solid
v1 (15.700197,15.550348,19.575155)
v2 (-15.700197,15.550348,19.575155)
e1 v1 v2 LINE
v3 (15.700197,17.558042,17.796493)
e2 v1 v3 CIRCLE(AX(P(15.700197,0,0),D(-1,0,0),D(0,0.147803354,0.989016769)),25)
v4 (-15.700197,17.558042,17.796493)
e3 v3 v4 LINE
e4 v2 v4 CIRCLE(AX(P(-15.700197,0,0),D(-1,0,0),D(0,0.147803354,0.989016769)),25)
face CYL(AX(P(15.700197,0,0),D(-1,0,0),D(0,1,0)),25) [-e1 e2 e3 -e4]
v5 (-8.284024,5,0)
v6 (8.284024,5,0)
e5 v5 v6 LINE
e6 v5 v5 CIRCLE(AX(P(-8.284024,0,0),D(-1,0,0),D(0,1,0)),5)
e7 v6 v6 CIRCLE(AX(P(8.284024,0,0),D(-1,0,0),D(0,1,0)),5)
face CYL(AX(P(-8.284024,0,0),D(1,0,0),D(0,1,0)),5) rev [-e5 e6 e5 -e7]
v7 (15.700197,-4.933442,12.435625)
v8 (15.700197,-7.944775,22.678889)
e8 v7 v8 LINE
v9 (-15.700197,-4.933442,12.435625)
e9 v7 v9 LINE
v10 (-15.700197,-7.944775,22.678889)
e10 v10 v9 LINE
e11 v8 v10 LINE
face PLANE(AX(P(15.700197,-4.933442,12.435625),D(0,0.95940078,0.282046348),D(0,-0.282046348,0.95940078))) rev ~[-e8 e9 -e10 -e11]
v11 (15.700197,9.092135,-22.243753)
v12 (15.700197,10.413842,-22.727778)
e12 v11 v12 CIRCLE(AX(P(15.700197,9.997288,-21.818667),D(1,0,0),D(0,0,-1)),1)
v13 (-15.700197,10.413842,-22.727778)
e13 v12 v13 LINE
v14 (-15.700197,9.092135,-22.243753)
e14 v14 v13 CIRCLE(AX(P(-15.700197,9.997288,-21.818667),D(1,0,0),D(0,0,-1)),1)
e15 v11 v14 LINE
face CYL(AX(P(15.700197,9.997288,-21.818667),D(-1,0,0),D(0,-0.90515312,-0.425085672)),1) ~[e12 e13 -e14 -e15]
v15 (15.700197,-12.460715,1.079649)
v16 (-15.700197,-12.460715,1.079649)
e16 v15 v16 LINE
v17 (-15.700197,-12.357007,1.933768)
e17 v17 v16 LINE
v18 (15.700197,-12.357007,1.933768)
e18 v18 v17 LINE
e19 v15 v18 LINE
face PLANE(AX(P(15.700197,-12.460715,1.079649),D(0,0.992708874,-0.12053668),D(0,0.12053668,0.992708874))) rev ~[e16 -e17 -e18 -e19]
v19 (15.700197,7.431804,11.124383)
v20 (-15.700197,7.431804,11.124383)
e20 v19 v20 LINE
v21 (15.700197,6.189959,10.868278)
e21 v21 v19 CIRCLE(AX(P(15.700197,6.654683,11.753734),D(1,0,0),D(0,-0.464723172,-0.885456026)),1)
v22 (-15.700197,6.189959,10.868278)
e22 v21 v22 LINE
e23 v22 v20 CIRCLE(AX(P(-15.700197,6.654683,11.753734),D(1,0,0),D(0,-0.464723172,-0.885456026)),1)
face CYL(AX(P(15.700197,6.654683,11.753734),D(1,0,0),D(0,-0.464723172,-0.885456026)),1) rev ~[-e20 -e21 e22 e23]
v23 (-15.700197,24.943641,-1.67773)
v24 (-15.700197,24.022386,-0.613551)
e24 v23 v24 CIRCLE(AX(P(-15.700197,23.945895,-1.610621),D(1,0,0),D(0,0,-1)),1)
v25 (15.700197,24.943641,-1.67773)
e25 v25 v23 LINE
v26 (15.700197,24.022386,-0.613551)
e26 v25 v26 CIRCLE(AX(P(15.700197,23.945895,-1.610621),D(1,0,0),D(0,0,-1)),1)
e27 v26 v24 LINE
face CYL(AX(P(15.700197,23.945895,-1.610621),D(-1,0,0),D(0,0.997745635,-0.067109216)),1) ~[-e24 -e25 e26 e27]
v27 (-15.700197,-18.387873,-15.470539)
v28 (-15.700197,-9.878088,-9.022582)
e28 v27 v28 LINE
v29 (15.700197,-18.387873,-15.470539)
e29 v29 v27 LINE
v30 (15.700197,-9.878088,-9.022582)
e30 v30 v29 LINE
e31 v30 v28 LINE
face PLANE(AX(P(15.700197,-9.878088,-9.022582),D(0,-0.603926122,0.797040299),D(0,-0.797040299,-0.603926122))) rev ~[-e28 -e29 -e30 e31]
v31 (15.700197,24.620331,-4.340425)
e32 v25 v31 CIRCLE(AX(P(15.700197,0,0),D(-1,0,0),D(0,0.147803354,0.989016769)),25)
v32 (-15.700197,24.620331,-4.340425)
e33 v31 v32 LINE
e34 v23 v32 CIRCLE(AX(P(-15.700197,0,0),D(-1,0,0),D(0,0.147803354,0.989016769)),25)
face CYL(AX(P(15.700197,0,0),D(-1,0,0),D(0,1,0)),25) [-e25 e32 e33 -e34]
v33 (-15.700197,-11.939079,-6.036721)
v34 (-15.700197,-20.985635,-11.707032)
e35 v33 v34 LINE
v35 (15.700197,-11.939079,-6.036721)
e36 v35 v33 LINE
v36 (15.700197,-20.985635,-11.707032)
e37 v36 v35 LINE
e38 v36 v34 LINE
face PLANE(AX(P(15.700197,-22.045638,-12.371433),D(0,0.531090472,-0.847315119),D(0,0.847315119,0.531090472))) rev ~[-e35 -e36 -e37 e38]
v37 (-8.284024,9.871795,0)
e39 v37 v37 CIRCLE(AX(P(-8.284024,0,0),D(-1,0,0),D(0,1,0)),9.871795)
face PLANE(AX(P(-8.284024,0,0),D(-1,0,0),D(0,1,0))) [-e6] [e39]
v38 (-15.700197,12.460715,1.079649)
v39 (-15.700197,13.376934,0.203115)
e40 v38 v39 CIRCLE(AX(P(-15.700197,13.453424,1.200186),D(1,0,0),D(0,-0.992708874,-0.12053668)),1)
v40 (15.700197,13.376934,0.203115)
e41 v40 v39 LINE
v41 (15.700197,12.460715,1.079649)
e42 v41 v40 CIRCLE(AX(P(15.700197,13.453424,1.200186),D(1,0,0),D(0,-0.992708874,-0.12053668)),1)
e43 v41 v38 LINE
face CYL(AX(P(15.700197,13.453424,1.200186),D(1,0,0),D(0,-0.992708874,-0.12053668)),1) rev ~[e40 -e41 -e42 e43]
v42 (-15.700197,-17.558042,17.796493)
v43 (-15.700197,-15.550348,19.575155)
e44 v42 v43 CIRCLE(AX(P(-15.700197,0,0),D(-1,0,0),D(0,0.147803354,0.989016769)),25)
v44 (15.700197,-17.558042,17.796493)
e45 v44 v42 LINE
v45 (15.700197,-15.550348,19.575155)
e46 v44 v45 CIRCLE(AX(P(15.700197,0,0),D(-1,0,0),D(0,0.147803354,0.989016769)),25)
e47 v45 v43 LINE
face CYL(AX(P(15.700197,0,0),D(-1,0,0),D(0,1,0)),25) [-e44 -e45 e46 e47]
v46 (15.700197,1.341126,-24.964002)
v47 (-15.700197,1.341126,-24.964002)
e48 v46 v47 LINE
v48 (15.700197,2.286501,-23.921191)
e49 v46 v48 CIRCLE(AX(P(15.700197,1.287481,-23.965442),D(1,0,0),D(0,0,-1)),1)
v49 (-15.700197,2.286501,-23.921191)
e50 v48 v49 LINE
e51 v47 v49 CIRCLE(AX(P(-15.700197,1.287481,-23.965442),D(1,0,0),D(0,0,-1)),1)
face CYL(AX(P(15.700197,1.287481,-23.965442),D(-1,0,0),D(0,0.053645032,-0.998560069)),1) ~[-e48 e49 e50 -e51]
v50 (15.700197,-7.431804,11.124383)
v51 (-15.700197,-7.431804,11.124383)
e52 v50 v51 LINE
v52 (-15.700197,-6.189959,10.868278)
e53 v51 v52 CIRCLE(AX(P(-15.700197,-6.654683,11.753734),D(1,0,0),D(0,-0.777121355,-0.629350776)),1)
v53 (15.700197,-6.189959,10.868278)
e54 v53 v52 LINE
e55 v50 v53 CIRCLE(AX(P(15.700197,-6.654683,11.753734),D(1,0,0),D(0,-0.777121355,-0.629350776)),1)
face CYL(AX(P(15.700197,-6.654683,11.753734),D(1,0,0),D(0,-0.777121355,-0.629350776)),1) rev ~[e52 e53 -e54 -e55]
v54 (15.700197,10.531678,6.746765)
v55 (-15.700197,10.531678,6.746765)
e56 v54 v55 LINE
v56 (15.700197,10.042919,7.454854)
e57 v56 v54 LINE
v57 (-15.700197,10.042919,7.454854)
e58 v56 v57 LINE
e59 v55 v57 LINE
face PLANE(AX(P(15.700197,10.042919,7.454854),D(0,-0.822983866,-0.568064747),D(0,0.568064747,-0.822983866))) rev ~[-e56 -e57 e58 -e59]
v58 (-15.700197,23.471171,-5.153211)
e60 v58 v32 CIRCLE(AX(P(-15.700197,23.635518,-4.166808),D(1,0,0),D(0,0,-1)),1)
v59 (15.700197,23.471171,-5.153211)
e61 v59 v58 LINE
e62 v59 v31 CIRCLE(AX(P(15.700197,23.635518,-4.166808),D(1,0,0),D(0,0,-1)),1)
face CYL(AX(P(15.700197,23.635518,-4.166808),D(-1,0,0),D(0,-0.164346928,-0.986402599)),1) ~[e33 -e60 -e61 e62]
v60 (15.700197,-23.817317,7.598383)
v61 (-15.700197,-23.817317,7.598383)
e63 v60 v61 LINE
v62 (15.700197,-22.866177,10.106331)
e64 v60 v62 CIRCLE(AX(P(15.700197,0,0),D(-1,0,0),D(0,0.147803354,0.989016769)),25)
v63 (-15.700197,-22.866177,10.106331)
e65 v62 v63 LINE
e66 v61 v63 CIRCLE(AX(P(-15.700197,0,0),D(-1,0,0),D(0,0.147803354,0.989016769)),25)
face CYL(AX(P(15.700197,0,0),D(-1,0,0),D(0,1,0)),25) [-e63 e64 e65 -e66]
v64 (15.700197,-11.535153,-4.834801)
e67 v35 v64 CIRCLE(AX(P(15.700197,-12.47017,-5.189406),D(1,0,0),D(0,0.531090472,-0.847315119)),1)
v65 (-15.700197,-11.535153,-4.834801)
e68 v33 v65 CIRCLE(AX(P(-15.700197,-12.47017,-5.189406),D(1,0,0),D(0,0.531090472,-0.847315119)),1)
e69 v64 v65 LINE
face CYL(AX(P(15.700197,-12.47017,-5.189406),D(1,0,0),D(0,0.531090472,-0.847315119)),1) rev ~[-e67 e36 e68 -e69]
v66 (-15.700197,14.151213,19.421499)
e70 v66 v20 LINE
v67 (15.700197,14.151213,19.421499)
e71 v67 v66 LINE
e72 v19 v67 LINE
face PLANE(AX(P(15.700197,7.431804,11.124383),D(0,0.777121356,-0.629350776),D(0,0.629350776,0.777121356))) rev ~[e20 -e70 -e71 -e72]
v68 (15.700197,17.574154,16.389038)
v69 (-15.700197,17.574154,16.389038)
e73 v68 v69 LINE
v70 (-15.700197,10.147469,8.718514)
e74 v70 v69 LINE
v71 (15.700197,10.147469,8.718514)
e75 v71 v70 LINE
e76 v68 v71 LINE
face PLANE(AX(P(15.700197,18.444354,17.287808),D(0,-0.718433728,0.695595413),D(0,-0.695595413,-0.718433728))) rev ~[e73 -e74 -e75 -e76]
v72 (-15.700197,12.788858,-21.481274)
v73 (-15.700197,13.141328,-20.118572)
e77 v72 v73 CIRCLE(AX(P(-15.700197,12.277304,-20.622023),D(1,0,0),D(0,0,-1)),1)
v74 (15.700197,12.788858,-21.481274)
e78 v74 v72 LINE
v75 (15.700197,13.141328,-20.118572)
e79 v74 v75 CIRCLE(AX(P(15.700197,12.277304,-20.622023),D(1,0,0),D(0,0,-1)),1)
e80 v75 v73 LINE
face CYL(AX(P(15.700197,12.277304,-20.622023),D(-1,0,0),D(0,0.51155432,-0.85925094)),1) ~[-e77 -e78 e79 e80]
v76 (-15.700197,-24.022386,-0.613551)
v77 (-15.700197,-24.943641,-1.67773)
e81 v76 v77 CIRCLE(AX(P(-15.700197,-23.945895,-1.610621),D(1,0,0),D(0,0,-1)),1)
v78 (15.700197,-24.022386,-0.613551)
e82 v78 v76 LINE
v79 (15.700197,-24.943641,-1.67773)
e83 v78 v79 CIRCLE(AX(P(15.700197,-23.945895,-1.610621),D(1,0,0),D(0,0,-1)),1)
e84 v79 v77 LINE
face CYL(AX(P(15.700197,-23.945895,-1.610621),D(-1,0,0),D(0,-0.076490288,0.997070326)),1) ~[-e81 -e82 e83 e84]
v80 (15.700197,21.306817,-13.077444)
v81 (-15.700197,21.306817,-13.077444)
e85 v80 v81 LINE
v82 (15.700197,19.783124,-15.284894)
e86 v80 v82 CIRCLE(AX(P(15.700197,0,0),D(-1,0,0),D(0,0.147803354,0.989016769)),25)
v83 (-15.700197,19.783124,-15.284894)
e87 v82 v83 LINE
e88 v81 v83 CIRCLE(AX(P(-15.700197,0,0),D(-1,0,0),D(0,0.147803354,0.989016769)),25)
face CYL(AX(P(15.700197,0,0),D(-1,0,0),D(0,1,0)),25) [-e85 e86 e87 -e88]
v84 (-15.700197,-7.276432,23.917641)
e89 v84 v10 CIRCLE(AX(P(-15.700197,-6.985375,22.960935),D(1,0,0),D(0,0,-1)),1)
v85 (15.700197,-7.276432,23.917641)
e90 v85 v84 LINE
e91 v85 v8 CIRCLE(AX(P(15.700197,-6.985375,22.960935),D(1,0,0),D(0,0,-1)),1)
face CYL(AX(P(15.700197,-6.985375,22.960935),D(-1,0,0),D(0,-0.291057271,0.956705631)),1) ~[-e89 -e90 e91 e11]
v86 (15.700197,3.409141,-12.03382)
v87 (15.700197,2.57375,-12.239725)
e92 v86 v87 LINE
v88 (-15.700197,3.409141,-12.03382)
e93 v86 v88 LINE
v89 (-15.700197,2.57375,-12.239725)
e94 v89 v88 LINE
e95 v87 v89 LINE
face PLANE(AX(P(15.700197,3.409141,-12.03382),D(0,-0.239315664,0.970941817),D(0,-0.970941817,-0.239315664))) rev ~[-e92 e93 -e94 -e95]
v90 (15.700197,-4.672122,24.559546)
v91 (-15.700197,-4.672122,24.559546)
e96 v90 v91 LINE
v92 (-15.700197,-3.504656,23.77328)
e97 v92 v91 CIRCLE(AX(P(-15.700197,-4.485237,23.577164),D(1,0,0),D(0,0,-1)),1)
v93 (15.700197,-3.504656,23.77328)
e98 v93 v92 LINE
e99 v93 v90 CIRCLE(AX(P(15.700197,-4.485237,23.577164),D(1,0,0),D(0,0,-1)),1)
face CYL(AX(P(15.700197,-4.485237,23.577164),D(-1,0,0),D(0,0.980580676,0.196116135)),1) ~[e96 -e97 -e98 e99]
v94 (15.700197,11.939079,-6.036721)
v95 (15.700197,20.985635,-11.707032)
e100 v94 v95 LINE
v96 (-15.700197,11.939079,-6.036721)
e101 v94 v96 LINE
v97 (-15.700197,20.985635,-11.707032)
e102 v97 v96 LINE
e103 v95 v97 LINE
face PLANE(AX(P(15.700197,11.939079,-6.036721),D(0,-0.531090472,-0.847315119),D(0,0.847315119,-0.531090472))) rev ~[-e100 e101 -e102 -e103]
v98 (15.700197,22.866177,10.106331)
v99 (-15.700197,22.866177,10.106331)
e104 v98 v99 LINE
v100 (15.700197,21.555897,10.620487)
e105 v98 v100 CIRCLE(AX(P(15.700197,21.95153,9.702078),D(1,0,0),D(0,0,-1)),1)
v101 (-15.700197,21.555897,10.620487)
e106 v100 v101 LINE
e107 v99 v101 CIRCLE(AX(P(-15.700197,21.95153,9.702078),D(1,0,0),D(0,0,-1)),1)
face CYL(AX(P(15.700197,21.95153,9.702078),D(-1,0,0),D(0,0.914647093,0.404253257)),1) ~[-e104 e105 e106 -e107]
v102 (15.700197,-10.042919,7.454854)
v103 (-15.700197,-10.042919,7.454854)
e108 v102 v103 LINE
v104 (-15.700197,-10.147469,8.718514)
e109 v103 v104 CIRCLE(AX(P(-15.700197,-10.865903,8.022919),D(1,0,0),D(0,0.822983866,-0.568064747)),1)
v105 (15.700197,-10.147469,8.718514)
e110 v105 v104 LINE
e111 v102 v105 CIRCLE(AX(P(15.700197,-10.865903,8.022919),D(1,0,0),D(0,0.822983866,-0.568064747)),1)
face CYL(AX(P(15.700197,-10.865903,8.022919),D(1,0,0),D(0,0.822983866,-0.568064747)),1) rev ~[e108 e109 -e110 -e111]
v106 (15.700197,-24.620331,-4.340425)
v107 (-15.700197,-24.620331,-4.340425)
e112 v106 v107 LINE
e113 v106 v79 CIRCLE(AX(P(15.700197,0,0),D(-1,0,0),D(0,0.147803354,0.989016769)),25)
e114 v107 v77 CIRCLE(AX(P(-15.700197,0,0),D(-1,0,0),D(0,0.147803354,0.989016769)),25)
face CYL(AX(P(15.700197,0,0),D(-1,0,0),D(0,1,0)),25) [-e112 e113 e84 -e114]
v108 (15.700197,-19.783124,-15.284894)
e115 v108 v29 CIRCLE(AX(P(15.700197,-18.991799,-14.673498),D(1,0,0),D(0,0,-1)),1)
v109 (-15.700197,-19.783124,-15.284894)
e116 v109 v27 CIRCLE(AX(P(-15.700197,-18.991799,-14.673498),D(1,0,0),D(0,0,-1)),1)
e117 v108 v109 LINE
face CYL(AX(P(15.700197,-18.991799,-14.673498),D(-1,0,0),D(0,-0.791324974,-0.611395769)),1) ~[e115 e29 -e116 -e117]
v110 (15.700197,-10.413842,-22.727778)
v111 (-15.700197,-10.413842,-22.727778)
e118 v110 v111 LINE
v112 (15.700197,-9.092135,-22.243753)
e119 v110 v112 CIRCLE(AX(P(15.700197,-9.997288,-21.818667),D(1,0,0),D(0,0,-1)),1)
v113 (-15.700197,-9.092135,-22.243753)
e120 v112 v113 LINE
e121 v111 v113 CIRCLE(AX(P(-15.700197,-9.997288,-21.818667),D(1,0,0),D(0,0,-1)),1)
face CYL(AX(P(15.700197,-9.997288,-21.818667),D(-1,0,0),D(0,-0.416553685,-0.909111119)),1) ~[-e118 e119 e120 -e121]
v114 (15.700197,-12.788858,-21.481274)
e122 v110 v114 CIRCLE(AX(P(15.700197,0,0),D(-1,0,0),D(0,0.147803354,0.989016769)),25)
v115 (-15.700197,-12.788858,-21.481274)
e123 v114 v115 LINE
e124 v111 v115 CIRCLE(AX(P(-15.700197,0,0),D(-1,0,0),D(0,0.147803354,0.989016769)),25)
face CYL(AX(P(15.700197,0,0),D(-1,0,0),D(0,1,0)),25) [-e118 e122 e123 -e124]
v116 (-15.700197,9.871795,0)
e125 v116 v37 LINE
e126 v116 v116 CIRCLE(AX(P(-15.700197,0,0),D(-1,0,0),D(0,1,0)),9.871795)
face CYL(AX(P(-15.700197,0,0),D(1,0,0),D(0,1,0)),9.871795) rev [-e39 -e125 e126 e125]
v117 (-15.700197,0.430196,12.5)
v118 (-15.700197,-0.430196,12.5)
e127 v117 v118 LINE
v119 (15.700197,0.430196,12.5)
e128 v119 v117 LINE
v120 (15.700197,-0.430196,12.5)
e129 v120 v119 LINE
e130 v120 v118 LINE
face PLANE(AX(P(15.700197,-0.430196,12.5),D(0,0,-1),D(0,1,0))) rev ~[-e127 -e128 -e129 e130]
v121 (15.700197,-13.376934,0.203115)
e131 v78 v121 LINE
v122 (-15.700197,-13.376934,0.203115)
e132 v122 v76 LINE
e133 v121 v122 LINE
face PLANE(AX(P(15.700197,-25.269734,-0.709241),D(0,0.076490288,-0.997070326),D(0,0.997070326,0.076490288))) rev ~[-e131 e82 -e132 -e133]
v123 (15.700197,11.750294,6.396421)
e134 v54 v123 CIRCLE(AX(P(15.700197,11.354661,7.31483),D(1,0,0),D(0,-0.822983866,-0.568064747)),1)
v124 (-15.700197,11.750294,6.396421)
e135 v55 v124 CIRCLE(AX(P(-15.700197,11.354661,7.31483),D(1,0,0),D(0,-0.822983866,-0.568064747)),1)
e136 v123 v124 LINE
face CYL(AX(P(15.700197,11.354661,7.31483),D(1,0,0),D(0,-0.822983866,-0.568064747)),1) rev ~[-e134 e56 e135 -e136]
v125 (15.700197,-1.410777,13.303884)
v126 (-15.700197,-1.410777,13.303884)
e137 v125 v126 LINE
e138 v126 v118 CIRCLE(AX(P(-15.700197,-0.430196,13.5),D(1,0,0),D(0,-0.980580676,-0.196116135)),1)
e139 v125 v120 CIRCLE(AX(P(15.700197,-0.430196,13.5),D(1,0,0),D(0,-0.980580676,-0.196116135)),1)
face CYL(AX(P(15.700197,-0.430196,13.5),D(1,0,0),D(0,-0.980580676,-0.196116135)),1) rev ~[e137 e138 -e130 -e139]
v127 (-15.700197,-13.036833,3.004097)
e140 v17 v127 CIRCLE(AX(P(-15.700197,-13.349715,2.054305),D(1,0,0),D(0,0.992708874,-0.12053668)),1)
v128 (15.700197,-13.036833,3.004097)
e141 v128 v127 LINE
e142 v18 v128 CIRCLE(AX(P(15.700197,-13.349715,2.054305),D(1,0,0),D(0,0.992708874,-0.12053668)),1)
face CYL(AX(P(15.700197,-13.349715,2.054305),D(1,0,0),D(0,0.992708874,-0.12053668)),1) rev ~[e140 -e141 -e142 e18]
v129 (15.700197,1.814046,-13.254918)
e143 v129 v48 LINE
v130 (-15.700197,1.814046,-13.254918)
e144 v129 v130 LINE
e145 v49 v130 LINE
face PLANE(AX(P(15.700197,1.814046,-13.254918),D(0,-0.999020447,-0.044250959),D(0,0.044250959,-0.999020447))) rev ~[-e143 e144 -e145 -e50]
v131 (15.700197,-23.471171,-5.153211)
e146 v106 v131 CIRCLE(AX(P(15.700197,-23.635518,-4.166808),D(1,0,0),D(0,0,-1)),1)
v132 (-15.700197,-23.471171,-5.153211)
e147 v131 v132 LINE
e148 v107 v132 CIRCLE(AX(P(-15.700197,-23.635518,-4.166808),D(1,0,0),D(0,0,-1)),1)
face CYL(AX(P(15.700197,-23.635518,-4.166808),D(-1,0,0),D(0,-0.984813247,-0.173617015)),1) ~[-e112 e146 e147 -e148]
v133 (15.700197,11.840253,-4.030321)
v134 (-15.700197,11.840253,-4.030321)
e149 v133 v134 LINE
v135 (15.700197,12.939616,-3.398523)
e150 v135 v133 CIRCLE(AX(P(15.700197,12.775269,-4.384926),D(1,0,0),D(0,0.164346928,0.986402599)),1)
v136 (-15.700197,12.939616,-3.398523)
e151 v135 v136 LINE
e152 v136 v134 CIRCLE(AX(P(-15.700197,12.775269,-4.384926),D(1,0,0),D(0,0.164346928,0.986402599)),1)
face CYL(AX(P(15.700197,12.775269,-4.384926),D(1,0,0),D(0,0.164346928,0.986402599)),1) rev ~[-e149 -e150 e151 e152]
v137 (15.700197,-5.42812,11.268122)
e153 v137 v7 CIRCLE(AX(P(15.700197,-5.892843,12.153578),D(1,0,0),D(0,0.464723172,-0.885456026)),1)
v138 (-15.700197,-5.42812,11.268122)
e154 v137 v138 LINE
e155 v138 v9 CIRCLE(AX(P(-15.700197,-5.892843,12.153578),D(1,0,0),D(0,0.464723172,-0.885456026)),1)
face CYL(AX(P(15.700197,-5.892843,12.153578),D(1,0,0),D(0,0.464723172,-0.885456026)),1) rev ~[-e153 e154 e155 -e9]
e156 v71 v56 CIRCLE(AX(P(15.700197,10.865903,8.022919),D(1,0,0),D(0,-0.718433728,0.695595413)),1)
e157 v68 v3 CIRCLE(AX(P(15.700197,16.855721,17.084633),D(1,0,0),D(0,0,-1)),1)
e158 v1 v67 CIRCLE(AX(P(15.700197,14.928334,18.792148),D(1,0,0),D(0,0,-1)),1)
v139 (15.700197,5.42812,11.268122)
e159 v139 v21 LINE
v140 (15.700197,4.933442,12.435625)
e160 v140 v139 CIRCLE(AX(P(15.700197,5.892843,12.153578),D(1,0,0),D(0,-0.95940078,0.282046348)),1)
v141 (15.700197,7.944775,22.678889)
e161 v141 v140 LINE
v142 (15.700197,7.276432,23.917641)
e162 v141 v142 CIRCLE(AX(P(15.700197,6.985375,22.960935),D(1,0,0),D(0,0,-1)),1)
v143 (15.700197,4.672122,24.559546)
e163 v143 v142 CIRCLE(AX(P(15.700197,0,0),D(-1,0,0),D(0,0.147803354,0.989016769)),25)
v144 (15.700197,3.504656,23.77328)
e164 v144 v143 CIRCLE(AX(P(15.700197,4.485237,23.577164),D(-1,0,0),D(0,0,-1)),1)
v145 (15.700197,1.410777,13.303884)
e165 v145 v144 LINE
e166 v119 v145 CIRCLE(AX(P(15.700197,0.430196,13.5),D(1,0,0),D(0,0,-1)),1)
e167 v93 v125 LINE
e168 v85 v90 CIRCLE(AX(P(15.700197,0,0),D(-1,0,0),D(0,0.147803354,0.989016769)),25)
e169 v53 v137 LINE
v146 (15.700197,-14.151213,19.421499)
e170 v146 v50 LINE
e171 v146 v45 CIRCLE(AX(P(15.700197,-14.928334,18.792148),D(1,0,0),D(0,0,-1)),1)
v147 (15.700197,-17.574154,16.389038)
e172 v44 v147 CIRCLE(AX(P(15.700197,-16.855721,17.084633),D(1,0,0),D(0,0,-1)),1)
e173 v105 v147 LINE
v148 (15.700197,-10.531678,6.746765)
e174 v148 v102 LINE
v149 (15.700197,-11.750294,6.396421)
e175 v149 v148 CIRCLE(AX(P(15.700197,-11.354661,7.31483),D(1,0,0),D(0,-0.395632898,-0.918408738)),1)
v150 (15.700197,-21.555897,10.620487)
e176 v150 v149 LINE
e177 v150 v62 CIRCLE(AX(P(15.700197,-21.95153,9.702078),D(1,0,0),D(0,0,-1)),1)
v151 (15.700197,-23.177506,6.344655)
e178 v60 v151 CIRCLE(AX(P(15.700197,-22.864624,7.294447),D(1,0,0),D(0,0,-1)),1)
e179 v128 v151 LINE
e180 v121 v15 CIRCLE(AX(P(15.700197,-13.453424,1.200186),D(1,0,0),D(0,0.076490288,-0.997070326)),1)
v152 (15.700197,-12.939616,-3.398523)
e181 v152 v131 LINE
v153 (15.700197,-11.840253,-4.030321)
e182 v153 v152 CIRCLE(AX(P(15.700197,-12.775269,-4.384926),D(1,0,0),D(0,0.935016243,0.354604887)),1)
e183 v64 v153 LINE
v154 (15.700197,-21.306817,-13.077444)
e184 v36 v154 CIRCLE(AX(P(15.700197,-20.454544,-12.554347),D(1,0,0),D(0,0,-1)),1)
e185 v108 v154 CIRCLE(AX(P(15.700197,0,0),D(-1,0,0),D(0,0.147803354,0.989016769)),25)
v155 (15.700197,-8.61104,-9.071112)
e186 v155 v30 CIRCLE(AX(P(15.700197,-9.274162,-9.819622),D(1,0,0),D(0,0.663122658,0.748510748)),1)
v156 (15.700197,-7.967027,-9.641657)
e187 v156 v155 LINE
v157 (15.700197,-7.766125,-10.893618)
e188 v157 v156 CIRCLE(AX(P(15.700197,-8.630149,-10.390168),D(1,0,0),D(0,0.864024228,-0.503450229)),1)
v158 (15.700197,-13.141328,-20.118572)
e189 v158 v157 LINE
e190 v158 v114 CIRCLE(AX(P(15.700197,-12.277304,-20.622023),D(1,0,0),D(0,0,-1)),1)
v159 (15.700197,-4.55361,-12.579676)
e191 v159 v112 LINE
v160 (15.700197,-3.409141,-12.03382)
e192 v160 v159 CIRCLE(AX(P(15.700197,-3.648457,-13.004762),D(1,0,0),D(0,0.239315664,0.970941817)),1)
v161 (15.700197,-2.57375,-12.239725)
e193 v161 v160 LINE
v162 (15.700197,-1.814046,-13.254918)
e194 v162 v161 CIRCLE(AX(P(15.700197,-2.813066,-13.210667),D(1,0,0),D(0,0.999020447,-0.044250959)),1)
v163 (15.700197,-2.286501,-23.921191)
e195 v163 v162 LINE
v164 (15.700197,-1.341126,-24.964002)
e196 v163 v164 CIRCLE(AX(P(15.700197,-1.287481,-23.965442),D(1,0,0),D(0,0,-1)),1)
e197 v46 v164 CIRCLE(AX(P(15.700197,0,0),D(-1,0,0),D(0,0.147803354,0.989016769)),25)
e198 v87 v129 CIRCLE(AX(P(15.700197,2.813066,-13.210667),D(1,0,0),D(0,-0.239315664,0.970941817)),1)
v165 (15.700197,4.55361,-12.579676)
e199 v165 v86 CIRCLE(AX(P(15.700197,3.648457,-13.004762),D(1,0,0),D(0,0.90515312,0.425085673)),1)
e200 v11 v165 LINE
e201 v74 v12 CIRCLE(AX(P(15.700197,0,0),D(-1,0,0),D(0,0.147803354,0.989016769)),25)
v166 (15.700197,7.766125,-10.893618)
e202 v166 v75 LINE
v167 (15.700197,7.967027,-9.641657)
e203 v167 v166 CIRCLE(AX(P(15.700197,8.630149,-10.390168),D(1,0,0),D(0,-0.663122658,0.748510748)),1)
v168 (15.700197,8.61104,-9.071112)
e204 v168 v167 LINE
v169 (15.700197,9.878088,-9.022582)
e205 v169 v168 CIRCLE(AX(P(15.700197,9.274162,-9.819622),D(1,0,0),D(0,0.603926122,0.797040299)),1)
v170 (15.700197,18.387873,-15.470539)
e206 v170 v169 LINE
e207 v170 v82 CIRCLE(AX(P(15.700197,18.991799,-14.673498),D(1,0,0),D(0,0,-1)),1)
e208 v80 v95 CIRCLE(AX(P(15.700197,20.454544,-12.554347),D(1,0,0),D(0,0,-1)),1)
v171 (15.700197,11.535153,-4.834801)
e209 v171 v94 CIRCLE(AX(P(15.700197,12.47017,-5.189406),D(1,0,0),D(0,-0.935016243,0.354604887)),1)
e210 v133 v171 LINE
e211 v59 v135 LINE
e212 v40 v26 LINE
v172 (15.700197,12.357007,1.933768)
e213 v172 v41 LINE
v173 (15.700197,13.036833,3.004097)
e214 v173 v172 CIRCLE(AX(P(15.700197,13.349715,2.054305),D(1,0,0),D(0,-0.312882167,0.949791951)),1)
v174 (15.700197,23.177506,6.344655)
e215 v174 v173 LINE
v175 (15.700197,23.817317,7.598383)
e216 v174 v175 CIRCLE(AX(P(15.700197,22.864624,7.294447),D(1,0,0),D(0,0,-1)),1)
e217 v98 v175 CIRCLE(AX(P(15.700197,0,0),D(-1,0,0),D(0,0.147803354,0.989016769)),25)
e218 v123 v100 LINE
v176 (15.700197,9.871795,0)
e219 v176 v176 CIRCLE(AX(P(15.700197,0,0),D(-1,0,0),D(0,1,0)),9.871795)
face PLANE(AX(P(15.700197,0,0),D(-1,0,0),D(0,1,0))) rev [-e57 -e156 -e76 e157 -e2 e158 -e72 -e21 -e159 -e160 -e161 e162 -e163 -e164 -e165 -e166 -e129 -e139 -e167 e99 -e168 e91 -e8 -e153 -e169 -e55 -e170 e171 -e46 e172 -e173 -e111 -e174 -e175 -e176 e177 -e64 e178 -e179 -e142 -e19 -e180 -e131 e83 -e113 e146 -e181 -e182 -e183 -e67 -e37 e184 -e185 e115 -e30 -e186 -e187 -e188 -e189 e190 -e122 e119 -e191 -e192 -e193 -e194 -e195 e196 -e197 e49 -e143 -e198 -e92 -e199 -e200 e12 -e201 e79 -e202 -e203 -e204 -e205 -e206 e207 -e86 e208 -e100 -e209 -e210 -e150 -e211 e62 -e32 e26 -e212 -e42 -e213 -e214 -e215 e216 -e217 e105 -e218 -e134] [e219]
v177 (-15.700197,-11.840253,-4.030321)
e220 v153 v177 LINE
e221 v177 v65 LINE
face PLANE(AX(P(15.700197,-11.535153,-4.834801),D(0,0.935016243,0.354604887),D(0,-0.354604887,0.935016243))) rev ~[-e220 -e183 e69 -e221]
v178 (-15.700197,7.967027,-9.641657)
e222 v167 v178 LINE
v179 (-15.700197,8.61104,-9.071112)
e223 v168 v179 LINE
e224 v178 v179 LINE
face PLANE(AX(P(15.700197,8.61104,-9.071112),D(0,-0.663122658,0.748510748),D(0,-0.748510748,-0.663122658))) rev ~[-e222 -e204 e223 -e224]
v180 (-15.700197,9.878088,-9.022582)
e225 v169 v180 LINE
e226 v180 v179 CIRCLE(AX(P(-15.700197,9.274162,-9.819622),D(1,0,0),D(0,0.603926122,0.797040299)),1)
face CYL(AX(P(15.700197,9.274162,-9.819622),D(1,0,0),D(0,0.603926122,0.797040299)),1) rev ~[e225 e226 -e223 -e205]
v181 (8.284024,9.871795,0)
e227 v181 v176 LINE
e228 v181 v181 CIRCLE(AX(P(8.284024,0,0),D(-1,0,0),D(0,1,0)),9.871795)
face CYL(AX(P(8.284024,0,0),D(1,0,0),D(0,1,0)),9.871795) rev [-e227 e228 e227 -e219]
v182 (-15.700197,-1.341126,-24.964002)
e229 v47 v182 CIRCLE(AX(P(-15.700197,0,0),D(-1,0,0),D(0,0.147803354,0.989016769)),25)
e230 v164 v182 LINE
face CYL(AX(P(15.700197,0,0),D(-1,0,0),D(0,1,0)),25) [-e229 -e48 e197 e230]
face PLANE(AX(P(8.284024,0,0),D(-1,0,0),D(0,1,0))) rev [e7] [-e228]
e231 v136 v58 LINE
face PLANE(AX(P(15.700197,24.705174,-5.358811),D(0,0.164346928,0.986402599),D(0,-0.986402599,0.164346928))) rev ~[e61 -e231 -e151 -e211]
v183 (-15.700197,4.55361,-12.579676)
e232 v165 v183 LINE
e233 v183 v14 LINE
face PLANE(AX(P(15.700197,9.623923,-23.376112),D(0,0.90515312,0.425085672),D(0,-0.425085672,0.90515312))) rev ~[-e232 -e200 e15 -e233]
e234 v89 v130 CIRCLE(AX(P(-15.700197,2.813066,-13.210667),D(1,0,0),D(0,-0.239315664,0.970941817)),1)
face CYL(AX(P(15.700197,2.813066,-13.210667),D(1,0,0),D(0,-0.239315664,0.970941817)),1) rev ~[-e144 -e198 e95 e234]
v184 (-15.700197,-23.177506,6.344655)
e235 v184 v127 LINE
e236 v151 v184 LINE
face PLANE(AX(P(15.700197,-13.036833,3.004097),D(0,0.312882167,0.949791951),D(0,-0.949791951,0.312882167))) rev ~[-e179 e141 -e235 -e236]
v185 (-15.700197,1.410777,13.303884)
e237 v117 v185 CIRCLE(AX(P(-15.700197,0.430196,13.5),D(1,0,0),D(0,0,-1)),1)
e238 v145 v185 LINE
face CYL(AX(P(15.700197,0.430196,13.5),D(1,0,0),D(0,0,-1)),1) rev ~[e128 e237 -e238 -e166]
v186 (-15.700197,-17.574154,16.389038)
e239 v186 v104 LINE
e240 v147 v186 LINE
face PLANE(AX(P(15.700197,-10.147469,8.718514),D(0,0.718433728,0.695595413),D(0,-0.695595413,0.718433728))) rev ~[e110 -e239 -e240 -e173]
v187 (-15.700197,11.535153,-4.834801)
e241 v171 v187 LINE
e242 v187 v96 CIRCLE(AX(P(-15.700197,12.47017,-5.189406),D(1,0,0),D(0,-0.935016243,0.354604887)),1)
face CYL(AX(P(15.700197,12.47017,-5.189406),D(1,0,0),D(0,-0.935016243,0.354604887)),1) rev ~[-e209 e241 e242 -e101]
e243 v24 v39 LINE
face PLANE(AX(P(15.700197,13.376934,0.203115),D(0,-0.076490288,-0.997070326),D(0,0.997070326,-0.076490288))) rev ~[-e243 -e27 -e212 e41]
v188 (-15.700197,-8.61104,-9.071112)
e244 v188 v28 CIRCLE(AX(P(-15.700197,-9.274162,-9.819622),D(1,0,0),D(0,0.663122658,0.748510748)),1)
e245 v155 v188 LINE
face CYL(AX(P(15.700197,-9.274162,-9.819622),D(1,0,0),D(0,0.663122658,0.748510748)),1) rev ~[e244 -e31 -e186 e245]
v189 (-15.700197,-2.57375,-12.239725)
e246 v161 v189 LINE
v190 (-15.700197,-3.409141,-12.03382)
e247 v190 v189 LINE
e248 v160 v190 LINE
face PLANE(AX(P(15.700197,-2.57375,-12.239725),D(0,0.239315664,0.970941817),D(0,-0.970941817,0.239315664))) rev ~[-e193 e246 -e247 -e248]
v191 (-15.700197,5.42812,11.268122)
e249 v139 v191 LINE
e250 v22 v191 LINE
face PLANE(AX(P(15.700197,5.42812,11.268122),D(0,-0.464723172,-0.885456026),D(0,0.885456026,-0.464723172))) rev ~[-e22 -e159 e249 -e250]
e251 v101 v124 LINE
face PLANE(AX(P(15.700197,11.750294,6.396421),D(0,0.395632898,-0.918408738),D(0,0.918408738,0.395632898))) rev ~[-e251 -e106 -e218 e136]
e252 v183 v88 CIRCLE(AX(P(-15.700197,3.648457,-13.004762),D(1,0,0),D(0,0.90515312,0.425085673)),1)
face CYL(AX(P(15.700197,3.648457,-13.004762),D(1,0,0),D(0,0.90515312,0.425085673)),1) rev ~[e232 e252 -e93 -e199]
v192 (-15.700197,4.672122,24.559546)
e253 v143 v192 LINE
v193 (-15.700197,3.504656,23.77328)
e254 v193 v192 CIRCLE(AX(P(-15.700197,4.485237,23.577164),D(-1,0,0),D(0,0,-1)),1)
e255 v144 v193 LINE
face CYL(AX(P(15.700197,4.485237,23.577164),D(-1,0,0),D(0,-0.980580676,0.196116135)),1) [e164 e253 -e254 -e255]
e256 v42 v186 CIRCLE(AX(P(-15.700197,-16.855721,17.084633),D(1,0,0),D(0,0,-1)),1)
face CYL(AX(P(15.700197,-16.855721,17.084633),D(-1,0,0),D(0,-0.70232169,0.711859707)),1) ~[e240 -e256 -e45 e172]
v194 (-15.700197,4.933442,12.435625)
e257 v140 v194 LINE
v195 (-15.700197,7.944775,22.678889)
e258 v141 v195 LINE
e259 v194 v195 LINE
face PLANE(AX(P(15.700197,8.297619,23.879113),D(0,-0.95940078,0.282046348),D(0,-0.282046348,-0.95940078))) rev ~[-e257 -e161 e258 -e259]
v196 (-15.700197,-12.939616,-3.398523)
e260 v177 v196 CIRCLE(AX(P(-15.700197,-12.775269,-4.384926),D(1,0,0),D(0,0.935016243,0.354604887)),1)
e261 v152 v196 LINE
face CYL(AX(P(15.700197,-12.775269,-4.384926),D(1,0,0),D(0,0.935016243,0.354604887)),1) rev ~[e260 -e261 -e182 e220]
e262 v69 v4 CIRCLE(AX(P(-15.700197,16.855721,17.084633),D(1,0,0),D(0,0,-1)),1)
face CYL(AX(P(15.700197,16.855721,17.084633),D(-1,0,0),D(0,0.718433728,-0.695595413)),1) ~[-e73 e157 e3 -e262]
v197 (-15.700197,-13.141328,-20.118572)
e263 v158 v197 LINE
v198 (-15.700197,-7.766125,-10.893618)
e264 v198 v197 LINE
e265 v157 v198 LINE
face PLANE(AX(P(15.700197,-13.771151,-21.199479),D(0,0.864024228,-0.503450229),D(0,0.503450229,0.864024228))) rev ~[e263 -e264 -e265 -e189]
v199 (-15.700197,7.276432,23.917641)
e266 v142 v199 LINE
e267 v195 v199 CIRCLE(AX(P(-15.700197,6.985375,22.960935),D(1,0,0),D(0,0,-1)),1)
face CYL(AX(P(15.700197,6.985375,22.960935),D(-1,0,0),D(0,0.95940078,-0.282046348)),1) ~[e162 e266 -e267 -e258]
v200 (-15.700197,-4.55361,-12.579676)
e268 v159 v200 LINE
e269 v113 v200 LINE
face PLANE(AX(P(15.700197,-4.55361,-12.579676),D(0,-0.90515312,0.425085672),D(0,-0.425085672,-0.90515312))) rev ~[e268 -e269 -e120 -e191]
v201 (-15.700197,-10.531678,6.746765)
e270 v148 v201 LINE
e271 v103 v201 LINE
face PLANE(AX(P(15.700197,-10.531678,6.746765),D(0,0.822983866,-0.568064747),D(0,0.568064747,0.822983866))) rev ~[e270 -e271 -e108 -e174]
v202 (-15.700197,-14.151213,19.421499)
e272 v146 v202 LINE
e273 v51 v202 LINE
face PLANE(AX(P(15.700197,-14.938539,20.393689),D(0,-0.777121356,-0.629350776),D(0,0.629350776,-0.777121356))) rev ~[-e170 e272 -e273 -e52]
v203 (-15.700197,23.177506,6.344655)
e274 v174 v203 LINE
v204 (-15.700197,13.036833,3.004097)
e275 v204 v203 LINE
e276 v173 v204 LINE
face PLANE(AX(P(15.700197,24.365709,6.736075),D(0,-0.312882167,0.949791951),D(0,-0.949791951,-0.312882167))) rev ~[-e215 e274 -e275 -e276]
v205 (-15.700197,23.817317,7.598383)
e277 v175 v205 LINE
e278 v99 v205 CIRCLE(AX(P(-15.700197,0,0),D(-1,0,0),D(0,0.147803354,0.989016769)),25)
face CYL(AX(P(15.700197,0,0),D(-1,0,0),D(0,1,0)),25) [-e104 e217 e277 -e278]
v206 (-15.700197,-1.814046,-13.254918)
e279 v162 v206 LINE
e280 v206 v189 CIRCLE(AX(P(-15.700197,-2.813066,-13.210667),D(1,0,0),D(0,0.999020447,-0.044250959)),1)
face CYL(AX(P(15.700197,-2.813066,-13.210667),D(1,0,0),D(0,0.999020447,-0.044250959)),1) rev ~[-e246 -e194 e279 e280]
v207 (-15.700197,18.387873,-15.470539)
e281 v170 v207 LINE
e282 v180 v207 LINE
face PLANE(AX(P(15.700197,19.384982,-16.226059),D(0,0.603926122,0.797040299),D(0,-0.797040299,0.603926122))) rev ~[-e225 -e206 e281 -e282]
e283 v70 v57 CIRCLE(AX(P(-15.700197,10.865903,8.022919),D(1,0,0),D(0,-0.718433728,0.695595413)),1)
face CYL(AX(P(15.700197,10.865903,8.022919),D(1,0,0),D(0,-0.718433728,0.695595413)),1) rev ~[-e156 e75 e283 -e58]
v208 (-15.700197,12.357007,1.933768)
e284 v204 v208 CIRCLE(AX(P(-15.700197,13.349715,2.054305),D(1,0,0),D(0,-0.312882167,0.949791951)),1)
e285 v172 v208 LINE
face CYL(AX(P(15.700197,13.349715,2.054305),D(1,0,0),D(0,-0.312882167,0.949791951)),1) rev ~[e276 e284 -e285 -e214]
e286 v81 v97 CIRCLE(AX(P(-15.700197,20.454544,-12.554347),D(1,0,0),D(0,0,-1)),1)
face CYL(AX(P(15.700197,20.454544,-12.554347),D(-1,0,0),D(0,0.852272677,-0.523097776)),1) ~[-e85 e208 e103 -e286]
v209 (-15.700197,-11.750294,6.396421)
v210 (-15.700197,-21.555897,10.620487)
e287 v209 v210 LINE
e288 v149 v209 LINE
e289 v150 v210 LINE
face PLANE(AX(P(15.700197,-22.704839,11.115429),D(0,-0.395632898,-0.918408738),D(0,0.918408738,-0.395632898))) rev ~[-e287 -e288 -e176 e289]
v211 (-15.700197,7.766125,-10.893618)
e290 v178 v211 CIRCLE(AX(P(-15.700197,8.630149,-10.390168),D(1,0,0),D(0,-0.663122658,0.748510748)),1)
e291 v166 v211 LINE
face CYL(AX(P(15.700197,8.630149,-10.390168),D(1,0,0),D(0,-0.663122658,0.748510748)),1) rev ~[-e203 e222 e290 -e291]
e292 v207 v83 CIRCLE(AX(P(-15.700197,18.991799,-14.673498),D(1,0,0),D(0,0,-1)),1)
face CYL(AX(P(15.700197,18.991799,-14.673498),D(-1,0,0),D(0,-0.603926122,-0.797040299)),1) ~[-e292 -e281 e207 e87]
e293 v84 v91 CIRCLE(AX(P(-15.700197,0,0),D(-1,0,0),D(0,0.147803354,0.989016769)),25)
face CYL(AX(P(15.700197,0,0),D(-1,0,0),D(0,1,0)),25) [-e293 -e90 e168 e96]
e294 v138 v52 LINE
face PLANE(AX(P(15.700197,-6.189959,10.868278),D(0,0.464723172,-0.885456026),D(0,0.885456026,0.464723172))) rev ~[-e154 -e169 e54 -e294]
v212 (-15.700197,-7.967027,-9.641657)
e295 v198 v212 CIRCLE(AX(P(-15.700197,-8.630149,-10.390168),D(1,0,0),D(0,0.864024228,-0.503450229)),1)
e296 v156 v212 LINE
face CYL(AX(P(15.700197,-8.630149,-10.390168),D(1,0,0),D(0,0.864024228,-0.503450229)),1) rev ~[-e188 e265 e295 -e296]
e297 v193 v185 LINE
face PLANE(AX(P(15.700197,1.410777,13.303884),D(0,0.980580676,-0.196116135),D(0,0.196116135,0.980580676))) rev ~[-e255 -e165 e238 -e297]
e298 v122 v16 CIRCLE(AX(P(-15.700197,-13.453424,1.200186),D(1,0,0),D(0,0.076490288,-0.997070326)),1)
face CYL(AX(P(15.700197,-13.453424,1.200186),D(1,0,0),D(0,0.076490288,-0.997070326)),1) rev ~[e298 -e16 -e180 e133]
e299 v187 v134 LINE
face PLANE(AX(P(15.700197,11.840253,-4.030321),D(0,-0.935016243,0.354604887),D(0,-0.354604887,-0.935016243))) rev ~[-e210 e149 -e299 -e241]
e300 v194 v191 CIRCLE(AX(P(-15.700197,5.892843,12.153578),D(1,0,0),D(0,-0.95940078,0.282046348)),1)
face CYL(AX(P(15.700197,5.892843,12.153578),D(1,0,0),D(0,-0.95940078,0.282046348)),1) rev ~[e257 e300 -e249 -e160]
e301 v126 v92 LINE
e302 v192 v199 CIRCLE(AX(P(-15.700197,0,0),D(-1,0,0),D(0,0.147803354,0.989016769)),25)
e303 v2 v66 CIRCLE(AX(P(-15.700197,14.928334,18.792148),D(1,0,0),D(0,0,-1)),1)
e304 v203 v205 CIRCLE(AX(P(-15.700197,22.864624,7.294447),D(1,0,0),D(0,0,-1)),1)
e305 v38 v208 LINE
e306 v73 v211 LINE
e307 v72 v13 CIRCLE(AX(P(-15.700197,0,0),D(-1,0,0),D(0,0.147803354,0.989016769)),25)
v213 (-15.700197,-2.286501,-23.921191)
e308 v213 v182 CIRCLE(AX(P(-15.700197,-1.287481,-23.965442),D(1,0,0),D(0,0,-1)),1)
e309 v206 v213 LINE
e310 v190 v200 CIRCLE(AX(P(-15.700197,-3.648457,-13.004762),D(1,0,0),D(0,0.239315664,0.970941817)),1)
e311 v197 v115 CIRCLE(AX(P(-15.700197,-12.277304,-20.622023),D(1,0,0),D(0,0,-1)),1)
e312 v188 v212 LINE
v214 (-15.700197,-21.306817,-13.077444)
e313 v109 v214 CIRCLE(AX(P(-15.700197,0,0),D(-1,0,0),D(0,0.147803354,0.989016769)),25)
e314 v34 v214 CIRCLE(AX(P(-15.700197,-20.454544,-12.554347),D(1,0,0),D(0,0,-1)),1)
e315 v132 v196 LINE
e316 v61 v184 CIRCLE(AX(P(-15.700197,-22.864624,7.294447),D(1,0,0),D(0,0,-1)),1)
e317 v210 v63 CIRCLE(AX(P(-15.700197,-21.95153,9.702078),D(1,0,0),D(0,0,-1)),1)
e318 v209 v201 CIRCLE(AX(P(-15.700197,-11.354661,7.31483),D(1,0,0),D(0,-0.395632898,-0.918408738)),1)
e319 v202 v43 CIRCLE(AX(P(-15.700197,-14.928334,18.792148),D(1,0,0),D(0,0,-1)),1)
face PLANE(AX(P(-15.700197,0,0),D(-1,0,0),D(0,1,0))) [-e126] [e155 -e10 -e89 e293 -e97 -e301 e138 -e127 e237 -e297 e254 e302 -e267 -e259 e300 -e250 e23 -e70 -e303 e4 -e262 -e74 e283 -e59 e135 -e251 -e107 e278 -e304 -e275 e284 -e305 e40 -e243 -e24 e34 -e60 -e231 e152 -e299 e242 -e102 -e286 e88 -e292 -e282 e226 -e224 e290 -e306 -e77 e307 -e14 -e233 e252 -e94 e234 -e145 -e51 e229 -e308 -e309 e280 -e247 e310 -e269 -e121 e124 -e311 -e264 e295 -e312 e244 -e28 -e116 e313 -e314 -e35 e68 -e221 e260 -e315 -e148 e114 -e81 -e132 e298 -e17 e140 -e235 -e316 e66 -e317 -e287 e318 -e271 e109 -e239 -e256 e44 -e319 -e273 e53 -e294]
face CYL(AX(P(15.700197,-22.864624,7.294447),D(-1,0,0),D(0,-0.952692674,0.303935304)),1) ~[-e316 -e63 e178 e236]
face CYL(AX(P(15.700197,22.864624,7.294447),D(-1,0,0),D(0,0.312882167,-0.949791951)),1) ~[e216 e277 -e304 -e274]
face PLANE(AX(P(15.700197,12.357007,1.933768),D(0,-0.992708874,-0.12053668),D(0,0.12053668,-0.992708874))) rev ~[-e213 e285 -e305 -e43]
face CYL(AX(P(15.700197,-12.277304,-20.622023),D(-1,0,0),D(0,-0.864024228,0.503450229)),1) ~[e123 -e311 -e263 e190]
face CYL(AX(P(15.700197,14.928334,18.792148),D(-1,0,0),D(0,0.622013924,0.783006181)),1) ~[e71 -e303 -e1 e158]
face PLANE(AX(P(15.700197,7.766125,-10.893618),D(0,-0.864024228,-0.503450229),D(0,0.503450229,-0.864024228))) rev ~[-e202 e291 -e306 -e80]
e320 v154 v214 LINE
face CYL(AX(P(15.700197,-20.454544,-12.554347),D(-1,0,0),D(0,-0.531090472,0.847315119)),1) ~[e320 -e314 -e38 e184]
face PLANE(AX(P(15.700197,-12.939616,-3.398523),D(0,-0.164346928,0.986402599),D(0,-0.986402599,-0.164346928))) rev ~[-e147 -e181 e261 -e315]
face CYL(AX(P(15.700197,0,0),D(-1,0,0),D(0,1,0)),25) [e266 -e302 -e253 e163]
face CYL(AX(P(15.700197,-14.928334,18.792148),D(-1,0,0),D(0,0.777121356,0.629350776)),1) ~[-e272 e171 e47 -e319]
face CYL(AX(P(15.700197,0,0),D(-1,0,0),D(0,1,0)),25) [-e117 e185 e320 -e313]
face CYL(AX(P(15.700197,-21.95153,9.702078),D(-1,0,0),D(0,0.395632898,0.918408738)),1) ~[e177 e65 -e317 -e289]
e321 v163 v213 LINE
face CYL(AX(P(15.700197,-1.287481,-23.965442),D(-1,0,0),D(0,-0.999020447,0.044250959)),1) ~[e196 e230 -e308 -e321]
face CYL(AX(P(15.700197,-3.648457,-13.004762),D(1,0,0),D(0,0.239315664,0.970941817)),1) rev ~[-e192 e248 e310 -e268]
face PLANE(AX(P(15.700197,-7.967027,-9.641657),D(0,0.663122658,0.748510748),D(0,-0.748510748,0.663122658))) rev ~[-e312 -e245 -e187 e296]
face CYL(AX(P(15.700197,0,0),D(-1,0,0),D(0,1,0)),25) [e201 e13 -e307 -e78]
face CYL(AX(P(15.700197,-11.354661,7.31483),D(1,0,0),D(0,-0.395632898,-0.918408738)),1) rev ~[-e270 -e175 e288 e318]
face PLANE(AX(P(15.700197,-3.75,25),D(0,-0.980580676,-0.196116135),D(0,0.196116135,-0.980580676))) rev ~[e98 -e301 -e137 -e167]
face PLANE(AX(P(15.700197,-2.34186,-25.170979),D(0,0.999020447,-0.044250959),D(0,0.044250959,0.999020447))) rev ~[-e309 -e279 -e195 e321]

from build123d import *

# Parameters (mm, degrees)
F3_DEPTH = 35
F4_COUNT = 13
F5_R     = 1


with BuildPart() as f1:
    # F0 (on Top) → F1 (revolve)
    with BuildSketch(Plane.XY):
        Polygon((-8.284023578, 9.8717947562), (-8.284023578, 5), (8.284023578, 5), (8.284023578, 9.8717947562), (15.7001973844, 9.8717947562), (15.7001973844, 25), (-15.7001973844, 25), (-15.7001973844, 9.8717947562), align=None)
    revolve(axis=Axis((-9.4565218315, 0, 0), (-1, 0, 0)))

    # F2 (on face) → F3 (cut)
    with BuildSketch(Plane.YZ.offset(15.7001973844)):
        with BuildLine():
            Line((0, 25), (-3.75, 25))
            Line((-3.75, 25), (-1.410776773, 13.3038838649))
            ThreePointArc((-1.410776773, 13.3038838649), (-1.0641850029, 12.7266578587), (-0.4301960973, 12.5))
            Line((-0.4301960973, 12.5), (0, 12.5))
            Line((0, 12.5), (0, 25))
        make_face()
        with BuildLine():
            Line((3.75, 25), (0, 25))
            Line((0, 25), (0, 12.5))
            Line((0, 12.5), (0.4301960973, 12.5))
            ThreePointArc((0.4301960973, 12.5), (1.0641850029, 12.7266578587), (1.410776773, 13.3038838649))
            Line((1.410776773, 13.3038838649), (3.75, 25))
        make_face()
    f3 = extrude(amount=-F3_DEPTH, mode=Mode.SUBTRACT)

    # F4: F3 ×13 about axis
    f4_axis = Axis((15.7001973844, 0, 0), (-1, 0, 0))
    for i in range(1, F4_COUNT):
        add(f3.rotate(f4_axis, i * 360 / F4_COUNT), mode=Mode.SUBTRACT)

    # F5
    f5_edges = [f1.edges().sort_by_distance(p)[0] for p in [
        (0, 14.76231, 20.17608),
        (0, -3.695084, 24.725419),
        (0, 3.695084, 24.725419),
        (0, -14.76231, 20.17608),
        (0, -8.218641, 23.610463),
        (0, -22.447668, 11.004645),
        (0, -18.249574, 17.086633),
        (0, -24.990536, -0.687823),
        (0, -24.09975, 6.648462),
        (0, -21.808374, -12.222718),
        (0, 22.447668, 11.004645),
        (0, 8.218641, 23.610463),
        (0, 24.990536, -0.687823),
        (0, 18.249574, 17.086633),
        (0, 21.808374, -12.222718),
        (0, 24.09975, 6.648462),
        (0, 24.428963, -5.312791),
        (0, 13.630176, -20.957536),
        (0, 19.161796, -16.056948),
        (0, 2.329469, -24.891235),
        (0, 9.504892, -23.122652),
        (0, -9.504892, -23.122652),
        (0, -2.329469, -24.891235),
        (0, -19.161796, -16.056948),
        (0, -13.630176, -20.957536),
        (0, -24.428963, -5.312791),
    ]]
    fillet(f5_edges, radius=F5_R)


solid = f1.part
